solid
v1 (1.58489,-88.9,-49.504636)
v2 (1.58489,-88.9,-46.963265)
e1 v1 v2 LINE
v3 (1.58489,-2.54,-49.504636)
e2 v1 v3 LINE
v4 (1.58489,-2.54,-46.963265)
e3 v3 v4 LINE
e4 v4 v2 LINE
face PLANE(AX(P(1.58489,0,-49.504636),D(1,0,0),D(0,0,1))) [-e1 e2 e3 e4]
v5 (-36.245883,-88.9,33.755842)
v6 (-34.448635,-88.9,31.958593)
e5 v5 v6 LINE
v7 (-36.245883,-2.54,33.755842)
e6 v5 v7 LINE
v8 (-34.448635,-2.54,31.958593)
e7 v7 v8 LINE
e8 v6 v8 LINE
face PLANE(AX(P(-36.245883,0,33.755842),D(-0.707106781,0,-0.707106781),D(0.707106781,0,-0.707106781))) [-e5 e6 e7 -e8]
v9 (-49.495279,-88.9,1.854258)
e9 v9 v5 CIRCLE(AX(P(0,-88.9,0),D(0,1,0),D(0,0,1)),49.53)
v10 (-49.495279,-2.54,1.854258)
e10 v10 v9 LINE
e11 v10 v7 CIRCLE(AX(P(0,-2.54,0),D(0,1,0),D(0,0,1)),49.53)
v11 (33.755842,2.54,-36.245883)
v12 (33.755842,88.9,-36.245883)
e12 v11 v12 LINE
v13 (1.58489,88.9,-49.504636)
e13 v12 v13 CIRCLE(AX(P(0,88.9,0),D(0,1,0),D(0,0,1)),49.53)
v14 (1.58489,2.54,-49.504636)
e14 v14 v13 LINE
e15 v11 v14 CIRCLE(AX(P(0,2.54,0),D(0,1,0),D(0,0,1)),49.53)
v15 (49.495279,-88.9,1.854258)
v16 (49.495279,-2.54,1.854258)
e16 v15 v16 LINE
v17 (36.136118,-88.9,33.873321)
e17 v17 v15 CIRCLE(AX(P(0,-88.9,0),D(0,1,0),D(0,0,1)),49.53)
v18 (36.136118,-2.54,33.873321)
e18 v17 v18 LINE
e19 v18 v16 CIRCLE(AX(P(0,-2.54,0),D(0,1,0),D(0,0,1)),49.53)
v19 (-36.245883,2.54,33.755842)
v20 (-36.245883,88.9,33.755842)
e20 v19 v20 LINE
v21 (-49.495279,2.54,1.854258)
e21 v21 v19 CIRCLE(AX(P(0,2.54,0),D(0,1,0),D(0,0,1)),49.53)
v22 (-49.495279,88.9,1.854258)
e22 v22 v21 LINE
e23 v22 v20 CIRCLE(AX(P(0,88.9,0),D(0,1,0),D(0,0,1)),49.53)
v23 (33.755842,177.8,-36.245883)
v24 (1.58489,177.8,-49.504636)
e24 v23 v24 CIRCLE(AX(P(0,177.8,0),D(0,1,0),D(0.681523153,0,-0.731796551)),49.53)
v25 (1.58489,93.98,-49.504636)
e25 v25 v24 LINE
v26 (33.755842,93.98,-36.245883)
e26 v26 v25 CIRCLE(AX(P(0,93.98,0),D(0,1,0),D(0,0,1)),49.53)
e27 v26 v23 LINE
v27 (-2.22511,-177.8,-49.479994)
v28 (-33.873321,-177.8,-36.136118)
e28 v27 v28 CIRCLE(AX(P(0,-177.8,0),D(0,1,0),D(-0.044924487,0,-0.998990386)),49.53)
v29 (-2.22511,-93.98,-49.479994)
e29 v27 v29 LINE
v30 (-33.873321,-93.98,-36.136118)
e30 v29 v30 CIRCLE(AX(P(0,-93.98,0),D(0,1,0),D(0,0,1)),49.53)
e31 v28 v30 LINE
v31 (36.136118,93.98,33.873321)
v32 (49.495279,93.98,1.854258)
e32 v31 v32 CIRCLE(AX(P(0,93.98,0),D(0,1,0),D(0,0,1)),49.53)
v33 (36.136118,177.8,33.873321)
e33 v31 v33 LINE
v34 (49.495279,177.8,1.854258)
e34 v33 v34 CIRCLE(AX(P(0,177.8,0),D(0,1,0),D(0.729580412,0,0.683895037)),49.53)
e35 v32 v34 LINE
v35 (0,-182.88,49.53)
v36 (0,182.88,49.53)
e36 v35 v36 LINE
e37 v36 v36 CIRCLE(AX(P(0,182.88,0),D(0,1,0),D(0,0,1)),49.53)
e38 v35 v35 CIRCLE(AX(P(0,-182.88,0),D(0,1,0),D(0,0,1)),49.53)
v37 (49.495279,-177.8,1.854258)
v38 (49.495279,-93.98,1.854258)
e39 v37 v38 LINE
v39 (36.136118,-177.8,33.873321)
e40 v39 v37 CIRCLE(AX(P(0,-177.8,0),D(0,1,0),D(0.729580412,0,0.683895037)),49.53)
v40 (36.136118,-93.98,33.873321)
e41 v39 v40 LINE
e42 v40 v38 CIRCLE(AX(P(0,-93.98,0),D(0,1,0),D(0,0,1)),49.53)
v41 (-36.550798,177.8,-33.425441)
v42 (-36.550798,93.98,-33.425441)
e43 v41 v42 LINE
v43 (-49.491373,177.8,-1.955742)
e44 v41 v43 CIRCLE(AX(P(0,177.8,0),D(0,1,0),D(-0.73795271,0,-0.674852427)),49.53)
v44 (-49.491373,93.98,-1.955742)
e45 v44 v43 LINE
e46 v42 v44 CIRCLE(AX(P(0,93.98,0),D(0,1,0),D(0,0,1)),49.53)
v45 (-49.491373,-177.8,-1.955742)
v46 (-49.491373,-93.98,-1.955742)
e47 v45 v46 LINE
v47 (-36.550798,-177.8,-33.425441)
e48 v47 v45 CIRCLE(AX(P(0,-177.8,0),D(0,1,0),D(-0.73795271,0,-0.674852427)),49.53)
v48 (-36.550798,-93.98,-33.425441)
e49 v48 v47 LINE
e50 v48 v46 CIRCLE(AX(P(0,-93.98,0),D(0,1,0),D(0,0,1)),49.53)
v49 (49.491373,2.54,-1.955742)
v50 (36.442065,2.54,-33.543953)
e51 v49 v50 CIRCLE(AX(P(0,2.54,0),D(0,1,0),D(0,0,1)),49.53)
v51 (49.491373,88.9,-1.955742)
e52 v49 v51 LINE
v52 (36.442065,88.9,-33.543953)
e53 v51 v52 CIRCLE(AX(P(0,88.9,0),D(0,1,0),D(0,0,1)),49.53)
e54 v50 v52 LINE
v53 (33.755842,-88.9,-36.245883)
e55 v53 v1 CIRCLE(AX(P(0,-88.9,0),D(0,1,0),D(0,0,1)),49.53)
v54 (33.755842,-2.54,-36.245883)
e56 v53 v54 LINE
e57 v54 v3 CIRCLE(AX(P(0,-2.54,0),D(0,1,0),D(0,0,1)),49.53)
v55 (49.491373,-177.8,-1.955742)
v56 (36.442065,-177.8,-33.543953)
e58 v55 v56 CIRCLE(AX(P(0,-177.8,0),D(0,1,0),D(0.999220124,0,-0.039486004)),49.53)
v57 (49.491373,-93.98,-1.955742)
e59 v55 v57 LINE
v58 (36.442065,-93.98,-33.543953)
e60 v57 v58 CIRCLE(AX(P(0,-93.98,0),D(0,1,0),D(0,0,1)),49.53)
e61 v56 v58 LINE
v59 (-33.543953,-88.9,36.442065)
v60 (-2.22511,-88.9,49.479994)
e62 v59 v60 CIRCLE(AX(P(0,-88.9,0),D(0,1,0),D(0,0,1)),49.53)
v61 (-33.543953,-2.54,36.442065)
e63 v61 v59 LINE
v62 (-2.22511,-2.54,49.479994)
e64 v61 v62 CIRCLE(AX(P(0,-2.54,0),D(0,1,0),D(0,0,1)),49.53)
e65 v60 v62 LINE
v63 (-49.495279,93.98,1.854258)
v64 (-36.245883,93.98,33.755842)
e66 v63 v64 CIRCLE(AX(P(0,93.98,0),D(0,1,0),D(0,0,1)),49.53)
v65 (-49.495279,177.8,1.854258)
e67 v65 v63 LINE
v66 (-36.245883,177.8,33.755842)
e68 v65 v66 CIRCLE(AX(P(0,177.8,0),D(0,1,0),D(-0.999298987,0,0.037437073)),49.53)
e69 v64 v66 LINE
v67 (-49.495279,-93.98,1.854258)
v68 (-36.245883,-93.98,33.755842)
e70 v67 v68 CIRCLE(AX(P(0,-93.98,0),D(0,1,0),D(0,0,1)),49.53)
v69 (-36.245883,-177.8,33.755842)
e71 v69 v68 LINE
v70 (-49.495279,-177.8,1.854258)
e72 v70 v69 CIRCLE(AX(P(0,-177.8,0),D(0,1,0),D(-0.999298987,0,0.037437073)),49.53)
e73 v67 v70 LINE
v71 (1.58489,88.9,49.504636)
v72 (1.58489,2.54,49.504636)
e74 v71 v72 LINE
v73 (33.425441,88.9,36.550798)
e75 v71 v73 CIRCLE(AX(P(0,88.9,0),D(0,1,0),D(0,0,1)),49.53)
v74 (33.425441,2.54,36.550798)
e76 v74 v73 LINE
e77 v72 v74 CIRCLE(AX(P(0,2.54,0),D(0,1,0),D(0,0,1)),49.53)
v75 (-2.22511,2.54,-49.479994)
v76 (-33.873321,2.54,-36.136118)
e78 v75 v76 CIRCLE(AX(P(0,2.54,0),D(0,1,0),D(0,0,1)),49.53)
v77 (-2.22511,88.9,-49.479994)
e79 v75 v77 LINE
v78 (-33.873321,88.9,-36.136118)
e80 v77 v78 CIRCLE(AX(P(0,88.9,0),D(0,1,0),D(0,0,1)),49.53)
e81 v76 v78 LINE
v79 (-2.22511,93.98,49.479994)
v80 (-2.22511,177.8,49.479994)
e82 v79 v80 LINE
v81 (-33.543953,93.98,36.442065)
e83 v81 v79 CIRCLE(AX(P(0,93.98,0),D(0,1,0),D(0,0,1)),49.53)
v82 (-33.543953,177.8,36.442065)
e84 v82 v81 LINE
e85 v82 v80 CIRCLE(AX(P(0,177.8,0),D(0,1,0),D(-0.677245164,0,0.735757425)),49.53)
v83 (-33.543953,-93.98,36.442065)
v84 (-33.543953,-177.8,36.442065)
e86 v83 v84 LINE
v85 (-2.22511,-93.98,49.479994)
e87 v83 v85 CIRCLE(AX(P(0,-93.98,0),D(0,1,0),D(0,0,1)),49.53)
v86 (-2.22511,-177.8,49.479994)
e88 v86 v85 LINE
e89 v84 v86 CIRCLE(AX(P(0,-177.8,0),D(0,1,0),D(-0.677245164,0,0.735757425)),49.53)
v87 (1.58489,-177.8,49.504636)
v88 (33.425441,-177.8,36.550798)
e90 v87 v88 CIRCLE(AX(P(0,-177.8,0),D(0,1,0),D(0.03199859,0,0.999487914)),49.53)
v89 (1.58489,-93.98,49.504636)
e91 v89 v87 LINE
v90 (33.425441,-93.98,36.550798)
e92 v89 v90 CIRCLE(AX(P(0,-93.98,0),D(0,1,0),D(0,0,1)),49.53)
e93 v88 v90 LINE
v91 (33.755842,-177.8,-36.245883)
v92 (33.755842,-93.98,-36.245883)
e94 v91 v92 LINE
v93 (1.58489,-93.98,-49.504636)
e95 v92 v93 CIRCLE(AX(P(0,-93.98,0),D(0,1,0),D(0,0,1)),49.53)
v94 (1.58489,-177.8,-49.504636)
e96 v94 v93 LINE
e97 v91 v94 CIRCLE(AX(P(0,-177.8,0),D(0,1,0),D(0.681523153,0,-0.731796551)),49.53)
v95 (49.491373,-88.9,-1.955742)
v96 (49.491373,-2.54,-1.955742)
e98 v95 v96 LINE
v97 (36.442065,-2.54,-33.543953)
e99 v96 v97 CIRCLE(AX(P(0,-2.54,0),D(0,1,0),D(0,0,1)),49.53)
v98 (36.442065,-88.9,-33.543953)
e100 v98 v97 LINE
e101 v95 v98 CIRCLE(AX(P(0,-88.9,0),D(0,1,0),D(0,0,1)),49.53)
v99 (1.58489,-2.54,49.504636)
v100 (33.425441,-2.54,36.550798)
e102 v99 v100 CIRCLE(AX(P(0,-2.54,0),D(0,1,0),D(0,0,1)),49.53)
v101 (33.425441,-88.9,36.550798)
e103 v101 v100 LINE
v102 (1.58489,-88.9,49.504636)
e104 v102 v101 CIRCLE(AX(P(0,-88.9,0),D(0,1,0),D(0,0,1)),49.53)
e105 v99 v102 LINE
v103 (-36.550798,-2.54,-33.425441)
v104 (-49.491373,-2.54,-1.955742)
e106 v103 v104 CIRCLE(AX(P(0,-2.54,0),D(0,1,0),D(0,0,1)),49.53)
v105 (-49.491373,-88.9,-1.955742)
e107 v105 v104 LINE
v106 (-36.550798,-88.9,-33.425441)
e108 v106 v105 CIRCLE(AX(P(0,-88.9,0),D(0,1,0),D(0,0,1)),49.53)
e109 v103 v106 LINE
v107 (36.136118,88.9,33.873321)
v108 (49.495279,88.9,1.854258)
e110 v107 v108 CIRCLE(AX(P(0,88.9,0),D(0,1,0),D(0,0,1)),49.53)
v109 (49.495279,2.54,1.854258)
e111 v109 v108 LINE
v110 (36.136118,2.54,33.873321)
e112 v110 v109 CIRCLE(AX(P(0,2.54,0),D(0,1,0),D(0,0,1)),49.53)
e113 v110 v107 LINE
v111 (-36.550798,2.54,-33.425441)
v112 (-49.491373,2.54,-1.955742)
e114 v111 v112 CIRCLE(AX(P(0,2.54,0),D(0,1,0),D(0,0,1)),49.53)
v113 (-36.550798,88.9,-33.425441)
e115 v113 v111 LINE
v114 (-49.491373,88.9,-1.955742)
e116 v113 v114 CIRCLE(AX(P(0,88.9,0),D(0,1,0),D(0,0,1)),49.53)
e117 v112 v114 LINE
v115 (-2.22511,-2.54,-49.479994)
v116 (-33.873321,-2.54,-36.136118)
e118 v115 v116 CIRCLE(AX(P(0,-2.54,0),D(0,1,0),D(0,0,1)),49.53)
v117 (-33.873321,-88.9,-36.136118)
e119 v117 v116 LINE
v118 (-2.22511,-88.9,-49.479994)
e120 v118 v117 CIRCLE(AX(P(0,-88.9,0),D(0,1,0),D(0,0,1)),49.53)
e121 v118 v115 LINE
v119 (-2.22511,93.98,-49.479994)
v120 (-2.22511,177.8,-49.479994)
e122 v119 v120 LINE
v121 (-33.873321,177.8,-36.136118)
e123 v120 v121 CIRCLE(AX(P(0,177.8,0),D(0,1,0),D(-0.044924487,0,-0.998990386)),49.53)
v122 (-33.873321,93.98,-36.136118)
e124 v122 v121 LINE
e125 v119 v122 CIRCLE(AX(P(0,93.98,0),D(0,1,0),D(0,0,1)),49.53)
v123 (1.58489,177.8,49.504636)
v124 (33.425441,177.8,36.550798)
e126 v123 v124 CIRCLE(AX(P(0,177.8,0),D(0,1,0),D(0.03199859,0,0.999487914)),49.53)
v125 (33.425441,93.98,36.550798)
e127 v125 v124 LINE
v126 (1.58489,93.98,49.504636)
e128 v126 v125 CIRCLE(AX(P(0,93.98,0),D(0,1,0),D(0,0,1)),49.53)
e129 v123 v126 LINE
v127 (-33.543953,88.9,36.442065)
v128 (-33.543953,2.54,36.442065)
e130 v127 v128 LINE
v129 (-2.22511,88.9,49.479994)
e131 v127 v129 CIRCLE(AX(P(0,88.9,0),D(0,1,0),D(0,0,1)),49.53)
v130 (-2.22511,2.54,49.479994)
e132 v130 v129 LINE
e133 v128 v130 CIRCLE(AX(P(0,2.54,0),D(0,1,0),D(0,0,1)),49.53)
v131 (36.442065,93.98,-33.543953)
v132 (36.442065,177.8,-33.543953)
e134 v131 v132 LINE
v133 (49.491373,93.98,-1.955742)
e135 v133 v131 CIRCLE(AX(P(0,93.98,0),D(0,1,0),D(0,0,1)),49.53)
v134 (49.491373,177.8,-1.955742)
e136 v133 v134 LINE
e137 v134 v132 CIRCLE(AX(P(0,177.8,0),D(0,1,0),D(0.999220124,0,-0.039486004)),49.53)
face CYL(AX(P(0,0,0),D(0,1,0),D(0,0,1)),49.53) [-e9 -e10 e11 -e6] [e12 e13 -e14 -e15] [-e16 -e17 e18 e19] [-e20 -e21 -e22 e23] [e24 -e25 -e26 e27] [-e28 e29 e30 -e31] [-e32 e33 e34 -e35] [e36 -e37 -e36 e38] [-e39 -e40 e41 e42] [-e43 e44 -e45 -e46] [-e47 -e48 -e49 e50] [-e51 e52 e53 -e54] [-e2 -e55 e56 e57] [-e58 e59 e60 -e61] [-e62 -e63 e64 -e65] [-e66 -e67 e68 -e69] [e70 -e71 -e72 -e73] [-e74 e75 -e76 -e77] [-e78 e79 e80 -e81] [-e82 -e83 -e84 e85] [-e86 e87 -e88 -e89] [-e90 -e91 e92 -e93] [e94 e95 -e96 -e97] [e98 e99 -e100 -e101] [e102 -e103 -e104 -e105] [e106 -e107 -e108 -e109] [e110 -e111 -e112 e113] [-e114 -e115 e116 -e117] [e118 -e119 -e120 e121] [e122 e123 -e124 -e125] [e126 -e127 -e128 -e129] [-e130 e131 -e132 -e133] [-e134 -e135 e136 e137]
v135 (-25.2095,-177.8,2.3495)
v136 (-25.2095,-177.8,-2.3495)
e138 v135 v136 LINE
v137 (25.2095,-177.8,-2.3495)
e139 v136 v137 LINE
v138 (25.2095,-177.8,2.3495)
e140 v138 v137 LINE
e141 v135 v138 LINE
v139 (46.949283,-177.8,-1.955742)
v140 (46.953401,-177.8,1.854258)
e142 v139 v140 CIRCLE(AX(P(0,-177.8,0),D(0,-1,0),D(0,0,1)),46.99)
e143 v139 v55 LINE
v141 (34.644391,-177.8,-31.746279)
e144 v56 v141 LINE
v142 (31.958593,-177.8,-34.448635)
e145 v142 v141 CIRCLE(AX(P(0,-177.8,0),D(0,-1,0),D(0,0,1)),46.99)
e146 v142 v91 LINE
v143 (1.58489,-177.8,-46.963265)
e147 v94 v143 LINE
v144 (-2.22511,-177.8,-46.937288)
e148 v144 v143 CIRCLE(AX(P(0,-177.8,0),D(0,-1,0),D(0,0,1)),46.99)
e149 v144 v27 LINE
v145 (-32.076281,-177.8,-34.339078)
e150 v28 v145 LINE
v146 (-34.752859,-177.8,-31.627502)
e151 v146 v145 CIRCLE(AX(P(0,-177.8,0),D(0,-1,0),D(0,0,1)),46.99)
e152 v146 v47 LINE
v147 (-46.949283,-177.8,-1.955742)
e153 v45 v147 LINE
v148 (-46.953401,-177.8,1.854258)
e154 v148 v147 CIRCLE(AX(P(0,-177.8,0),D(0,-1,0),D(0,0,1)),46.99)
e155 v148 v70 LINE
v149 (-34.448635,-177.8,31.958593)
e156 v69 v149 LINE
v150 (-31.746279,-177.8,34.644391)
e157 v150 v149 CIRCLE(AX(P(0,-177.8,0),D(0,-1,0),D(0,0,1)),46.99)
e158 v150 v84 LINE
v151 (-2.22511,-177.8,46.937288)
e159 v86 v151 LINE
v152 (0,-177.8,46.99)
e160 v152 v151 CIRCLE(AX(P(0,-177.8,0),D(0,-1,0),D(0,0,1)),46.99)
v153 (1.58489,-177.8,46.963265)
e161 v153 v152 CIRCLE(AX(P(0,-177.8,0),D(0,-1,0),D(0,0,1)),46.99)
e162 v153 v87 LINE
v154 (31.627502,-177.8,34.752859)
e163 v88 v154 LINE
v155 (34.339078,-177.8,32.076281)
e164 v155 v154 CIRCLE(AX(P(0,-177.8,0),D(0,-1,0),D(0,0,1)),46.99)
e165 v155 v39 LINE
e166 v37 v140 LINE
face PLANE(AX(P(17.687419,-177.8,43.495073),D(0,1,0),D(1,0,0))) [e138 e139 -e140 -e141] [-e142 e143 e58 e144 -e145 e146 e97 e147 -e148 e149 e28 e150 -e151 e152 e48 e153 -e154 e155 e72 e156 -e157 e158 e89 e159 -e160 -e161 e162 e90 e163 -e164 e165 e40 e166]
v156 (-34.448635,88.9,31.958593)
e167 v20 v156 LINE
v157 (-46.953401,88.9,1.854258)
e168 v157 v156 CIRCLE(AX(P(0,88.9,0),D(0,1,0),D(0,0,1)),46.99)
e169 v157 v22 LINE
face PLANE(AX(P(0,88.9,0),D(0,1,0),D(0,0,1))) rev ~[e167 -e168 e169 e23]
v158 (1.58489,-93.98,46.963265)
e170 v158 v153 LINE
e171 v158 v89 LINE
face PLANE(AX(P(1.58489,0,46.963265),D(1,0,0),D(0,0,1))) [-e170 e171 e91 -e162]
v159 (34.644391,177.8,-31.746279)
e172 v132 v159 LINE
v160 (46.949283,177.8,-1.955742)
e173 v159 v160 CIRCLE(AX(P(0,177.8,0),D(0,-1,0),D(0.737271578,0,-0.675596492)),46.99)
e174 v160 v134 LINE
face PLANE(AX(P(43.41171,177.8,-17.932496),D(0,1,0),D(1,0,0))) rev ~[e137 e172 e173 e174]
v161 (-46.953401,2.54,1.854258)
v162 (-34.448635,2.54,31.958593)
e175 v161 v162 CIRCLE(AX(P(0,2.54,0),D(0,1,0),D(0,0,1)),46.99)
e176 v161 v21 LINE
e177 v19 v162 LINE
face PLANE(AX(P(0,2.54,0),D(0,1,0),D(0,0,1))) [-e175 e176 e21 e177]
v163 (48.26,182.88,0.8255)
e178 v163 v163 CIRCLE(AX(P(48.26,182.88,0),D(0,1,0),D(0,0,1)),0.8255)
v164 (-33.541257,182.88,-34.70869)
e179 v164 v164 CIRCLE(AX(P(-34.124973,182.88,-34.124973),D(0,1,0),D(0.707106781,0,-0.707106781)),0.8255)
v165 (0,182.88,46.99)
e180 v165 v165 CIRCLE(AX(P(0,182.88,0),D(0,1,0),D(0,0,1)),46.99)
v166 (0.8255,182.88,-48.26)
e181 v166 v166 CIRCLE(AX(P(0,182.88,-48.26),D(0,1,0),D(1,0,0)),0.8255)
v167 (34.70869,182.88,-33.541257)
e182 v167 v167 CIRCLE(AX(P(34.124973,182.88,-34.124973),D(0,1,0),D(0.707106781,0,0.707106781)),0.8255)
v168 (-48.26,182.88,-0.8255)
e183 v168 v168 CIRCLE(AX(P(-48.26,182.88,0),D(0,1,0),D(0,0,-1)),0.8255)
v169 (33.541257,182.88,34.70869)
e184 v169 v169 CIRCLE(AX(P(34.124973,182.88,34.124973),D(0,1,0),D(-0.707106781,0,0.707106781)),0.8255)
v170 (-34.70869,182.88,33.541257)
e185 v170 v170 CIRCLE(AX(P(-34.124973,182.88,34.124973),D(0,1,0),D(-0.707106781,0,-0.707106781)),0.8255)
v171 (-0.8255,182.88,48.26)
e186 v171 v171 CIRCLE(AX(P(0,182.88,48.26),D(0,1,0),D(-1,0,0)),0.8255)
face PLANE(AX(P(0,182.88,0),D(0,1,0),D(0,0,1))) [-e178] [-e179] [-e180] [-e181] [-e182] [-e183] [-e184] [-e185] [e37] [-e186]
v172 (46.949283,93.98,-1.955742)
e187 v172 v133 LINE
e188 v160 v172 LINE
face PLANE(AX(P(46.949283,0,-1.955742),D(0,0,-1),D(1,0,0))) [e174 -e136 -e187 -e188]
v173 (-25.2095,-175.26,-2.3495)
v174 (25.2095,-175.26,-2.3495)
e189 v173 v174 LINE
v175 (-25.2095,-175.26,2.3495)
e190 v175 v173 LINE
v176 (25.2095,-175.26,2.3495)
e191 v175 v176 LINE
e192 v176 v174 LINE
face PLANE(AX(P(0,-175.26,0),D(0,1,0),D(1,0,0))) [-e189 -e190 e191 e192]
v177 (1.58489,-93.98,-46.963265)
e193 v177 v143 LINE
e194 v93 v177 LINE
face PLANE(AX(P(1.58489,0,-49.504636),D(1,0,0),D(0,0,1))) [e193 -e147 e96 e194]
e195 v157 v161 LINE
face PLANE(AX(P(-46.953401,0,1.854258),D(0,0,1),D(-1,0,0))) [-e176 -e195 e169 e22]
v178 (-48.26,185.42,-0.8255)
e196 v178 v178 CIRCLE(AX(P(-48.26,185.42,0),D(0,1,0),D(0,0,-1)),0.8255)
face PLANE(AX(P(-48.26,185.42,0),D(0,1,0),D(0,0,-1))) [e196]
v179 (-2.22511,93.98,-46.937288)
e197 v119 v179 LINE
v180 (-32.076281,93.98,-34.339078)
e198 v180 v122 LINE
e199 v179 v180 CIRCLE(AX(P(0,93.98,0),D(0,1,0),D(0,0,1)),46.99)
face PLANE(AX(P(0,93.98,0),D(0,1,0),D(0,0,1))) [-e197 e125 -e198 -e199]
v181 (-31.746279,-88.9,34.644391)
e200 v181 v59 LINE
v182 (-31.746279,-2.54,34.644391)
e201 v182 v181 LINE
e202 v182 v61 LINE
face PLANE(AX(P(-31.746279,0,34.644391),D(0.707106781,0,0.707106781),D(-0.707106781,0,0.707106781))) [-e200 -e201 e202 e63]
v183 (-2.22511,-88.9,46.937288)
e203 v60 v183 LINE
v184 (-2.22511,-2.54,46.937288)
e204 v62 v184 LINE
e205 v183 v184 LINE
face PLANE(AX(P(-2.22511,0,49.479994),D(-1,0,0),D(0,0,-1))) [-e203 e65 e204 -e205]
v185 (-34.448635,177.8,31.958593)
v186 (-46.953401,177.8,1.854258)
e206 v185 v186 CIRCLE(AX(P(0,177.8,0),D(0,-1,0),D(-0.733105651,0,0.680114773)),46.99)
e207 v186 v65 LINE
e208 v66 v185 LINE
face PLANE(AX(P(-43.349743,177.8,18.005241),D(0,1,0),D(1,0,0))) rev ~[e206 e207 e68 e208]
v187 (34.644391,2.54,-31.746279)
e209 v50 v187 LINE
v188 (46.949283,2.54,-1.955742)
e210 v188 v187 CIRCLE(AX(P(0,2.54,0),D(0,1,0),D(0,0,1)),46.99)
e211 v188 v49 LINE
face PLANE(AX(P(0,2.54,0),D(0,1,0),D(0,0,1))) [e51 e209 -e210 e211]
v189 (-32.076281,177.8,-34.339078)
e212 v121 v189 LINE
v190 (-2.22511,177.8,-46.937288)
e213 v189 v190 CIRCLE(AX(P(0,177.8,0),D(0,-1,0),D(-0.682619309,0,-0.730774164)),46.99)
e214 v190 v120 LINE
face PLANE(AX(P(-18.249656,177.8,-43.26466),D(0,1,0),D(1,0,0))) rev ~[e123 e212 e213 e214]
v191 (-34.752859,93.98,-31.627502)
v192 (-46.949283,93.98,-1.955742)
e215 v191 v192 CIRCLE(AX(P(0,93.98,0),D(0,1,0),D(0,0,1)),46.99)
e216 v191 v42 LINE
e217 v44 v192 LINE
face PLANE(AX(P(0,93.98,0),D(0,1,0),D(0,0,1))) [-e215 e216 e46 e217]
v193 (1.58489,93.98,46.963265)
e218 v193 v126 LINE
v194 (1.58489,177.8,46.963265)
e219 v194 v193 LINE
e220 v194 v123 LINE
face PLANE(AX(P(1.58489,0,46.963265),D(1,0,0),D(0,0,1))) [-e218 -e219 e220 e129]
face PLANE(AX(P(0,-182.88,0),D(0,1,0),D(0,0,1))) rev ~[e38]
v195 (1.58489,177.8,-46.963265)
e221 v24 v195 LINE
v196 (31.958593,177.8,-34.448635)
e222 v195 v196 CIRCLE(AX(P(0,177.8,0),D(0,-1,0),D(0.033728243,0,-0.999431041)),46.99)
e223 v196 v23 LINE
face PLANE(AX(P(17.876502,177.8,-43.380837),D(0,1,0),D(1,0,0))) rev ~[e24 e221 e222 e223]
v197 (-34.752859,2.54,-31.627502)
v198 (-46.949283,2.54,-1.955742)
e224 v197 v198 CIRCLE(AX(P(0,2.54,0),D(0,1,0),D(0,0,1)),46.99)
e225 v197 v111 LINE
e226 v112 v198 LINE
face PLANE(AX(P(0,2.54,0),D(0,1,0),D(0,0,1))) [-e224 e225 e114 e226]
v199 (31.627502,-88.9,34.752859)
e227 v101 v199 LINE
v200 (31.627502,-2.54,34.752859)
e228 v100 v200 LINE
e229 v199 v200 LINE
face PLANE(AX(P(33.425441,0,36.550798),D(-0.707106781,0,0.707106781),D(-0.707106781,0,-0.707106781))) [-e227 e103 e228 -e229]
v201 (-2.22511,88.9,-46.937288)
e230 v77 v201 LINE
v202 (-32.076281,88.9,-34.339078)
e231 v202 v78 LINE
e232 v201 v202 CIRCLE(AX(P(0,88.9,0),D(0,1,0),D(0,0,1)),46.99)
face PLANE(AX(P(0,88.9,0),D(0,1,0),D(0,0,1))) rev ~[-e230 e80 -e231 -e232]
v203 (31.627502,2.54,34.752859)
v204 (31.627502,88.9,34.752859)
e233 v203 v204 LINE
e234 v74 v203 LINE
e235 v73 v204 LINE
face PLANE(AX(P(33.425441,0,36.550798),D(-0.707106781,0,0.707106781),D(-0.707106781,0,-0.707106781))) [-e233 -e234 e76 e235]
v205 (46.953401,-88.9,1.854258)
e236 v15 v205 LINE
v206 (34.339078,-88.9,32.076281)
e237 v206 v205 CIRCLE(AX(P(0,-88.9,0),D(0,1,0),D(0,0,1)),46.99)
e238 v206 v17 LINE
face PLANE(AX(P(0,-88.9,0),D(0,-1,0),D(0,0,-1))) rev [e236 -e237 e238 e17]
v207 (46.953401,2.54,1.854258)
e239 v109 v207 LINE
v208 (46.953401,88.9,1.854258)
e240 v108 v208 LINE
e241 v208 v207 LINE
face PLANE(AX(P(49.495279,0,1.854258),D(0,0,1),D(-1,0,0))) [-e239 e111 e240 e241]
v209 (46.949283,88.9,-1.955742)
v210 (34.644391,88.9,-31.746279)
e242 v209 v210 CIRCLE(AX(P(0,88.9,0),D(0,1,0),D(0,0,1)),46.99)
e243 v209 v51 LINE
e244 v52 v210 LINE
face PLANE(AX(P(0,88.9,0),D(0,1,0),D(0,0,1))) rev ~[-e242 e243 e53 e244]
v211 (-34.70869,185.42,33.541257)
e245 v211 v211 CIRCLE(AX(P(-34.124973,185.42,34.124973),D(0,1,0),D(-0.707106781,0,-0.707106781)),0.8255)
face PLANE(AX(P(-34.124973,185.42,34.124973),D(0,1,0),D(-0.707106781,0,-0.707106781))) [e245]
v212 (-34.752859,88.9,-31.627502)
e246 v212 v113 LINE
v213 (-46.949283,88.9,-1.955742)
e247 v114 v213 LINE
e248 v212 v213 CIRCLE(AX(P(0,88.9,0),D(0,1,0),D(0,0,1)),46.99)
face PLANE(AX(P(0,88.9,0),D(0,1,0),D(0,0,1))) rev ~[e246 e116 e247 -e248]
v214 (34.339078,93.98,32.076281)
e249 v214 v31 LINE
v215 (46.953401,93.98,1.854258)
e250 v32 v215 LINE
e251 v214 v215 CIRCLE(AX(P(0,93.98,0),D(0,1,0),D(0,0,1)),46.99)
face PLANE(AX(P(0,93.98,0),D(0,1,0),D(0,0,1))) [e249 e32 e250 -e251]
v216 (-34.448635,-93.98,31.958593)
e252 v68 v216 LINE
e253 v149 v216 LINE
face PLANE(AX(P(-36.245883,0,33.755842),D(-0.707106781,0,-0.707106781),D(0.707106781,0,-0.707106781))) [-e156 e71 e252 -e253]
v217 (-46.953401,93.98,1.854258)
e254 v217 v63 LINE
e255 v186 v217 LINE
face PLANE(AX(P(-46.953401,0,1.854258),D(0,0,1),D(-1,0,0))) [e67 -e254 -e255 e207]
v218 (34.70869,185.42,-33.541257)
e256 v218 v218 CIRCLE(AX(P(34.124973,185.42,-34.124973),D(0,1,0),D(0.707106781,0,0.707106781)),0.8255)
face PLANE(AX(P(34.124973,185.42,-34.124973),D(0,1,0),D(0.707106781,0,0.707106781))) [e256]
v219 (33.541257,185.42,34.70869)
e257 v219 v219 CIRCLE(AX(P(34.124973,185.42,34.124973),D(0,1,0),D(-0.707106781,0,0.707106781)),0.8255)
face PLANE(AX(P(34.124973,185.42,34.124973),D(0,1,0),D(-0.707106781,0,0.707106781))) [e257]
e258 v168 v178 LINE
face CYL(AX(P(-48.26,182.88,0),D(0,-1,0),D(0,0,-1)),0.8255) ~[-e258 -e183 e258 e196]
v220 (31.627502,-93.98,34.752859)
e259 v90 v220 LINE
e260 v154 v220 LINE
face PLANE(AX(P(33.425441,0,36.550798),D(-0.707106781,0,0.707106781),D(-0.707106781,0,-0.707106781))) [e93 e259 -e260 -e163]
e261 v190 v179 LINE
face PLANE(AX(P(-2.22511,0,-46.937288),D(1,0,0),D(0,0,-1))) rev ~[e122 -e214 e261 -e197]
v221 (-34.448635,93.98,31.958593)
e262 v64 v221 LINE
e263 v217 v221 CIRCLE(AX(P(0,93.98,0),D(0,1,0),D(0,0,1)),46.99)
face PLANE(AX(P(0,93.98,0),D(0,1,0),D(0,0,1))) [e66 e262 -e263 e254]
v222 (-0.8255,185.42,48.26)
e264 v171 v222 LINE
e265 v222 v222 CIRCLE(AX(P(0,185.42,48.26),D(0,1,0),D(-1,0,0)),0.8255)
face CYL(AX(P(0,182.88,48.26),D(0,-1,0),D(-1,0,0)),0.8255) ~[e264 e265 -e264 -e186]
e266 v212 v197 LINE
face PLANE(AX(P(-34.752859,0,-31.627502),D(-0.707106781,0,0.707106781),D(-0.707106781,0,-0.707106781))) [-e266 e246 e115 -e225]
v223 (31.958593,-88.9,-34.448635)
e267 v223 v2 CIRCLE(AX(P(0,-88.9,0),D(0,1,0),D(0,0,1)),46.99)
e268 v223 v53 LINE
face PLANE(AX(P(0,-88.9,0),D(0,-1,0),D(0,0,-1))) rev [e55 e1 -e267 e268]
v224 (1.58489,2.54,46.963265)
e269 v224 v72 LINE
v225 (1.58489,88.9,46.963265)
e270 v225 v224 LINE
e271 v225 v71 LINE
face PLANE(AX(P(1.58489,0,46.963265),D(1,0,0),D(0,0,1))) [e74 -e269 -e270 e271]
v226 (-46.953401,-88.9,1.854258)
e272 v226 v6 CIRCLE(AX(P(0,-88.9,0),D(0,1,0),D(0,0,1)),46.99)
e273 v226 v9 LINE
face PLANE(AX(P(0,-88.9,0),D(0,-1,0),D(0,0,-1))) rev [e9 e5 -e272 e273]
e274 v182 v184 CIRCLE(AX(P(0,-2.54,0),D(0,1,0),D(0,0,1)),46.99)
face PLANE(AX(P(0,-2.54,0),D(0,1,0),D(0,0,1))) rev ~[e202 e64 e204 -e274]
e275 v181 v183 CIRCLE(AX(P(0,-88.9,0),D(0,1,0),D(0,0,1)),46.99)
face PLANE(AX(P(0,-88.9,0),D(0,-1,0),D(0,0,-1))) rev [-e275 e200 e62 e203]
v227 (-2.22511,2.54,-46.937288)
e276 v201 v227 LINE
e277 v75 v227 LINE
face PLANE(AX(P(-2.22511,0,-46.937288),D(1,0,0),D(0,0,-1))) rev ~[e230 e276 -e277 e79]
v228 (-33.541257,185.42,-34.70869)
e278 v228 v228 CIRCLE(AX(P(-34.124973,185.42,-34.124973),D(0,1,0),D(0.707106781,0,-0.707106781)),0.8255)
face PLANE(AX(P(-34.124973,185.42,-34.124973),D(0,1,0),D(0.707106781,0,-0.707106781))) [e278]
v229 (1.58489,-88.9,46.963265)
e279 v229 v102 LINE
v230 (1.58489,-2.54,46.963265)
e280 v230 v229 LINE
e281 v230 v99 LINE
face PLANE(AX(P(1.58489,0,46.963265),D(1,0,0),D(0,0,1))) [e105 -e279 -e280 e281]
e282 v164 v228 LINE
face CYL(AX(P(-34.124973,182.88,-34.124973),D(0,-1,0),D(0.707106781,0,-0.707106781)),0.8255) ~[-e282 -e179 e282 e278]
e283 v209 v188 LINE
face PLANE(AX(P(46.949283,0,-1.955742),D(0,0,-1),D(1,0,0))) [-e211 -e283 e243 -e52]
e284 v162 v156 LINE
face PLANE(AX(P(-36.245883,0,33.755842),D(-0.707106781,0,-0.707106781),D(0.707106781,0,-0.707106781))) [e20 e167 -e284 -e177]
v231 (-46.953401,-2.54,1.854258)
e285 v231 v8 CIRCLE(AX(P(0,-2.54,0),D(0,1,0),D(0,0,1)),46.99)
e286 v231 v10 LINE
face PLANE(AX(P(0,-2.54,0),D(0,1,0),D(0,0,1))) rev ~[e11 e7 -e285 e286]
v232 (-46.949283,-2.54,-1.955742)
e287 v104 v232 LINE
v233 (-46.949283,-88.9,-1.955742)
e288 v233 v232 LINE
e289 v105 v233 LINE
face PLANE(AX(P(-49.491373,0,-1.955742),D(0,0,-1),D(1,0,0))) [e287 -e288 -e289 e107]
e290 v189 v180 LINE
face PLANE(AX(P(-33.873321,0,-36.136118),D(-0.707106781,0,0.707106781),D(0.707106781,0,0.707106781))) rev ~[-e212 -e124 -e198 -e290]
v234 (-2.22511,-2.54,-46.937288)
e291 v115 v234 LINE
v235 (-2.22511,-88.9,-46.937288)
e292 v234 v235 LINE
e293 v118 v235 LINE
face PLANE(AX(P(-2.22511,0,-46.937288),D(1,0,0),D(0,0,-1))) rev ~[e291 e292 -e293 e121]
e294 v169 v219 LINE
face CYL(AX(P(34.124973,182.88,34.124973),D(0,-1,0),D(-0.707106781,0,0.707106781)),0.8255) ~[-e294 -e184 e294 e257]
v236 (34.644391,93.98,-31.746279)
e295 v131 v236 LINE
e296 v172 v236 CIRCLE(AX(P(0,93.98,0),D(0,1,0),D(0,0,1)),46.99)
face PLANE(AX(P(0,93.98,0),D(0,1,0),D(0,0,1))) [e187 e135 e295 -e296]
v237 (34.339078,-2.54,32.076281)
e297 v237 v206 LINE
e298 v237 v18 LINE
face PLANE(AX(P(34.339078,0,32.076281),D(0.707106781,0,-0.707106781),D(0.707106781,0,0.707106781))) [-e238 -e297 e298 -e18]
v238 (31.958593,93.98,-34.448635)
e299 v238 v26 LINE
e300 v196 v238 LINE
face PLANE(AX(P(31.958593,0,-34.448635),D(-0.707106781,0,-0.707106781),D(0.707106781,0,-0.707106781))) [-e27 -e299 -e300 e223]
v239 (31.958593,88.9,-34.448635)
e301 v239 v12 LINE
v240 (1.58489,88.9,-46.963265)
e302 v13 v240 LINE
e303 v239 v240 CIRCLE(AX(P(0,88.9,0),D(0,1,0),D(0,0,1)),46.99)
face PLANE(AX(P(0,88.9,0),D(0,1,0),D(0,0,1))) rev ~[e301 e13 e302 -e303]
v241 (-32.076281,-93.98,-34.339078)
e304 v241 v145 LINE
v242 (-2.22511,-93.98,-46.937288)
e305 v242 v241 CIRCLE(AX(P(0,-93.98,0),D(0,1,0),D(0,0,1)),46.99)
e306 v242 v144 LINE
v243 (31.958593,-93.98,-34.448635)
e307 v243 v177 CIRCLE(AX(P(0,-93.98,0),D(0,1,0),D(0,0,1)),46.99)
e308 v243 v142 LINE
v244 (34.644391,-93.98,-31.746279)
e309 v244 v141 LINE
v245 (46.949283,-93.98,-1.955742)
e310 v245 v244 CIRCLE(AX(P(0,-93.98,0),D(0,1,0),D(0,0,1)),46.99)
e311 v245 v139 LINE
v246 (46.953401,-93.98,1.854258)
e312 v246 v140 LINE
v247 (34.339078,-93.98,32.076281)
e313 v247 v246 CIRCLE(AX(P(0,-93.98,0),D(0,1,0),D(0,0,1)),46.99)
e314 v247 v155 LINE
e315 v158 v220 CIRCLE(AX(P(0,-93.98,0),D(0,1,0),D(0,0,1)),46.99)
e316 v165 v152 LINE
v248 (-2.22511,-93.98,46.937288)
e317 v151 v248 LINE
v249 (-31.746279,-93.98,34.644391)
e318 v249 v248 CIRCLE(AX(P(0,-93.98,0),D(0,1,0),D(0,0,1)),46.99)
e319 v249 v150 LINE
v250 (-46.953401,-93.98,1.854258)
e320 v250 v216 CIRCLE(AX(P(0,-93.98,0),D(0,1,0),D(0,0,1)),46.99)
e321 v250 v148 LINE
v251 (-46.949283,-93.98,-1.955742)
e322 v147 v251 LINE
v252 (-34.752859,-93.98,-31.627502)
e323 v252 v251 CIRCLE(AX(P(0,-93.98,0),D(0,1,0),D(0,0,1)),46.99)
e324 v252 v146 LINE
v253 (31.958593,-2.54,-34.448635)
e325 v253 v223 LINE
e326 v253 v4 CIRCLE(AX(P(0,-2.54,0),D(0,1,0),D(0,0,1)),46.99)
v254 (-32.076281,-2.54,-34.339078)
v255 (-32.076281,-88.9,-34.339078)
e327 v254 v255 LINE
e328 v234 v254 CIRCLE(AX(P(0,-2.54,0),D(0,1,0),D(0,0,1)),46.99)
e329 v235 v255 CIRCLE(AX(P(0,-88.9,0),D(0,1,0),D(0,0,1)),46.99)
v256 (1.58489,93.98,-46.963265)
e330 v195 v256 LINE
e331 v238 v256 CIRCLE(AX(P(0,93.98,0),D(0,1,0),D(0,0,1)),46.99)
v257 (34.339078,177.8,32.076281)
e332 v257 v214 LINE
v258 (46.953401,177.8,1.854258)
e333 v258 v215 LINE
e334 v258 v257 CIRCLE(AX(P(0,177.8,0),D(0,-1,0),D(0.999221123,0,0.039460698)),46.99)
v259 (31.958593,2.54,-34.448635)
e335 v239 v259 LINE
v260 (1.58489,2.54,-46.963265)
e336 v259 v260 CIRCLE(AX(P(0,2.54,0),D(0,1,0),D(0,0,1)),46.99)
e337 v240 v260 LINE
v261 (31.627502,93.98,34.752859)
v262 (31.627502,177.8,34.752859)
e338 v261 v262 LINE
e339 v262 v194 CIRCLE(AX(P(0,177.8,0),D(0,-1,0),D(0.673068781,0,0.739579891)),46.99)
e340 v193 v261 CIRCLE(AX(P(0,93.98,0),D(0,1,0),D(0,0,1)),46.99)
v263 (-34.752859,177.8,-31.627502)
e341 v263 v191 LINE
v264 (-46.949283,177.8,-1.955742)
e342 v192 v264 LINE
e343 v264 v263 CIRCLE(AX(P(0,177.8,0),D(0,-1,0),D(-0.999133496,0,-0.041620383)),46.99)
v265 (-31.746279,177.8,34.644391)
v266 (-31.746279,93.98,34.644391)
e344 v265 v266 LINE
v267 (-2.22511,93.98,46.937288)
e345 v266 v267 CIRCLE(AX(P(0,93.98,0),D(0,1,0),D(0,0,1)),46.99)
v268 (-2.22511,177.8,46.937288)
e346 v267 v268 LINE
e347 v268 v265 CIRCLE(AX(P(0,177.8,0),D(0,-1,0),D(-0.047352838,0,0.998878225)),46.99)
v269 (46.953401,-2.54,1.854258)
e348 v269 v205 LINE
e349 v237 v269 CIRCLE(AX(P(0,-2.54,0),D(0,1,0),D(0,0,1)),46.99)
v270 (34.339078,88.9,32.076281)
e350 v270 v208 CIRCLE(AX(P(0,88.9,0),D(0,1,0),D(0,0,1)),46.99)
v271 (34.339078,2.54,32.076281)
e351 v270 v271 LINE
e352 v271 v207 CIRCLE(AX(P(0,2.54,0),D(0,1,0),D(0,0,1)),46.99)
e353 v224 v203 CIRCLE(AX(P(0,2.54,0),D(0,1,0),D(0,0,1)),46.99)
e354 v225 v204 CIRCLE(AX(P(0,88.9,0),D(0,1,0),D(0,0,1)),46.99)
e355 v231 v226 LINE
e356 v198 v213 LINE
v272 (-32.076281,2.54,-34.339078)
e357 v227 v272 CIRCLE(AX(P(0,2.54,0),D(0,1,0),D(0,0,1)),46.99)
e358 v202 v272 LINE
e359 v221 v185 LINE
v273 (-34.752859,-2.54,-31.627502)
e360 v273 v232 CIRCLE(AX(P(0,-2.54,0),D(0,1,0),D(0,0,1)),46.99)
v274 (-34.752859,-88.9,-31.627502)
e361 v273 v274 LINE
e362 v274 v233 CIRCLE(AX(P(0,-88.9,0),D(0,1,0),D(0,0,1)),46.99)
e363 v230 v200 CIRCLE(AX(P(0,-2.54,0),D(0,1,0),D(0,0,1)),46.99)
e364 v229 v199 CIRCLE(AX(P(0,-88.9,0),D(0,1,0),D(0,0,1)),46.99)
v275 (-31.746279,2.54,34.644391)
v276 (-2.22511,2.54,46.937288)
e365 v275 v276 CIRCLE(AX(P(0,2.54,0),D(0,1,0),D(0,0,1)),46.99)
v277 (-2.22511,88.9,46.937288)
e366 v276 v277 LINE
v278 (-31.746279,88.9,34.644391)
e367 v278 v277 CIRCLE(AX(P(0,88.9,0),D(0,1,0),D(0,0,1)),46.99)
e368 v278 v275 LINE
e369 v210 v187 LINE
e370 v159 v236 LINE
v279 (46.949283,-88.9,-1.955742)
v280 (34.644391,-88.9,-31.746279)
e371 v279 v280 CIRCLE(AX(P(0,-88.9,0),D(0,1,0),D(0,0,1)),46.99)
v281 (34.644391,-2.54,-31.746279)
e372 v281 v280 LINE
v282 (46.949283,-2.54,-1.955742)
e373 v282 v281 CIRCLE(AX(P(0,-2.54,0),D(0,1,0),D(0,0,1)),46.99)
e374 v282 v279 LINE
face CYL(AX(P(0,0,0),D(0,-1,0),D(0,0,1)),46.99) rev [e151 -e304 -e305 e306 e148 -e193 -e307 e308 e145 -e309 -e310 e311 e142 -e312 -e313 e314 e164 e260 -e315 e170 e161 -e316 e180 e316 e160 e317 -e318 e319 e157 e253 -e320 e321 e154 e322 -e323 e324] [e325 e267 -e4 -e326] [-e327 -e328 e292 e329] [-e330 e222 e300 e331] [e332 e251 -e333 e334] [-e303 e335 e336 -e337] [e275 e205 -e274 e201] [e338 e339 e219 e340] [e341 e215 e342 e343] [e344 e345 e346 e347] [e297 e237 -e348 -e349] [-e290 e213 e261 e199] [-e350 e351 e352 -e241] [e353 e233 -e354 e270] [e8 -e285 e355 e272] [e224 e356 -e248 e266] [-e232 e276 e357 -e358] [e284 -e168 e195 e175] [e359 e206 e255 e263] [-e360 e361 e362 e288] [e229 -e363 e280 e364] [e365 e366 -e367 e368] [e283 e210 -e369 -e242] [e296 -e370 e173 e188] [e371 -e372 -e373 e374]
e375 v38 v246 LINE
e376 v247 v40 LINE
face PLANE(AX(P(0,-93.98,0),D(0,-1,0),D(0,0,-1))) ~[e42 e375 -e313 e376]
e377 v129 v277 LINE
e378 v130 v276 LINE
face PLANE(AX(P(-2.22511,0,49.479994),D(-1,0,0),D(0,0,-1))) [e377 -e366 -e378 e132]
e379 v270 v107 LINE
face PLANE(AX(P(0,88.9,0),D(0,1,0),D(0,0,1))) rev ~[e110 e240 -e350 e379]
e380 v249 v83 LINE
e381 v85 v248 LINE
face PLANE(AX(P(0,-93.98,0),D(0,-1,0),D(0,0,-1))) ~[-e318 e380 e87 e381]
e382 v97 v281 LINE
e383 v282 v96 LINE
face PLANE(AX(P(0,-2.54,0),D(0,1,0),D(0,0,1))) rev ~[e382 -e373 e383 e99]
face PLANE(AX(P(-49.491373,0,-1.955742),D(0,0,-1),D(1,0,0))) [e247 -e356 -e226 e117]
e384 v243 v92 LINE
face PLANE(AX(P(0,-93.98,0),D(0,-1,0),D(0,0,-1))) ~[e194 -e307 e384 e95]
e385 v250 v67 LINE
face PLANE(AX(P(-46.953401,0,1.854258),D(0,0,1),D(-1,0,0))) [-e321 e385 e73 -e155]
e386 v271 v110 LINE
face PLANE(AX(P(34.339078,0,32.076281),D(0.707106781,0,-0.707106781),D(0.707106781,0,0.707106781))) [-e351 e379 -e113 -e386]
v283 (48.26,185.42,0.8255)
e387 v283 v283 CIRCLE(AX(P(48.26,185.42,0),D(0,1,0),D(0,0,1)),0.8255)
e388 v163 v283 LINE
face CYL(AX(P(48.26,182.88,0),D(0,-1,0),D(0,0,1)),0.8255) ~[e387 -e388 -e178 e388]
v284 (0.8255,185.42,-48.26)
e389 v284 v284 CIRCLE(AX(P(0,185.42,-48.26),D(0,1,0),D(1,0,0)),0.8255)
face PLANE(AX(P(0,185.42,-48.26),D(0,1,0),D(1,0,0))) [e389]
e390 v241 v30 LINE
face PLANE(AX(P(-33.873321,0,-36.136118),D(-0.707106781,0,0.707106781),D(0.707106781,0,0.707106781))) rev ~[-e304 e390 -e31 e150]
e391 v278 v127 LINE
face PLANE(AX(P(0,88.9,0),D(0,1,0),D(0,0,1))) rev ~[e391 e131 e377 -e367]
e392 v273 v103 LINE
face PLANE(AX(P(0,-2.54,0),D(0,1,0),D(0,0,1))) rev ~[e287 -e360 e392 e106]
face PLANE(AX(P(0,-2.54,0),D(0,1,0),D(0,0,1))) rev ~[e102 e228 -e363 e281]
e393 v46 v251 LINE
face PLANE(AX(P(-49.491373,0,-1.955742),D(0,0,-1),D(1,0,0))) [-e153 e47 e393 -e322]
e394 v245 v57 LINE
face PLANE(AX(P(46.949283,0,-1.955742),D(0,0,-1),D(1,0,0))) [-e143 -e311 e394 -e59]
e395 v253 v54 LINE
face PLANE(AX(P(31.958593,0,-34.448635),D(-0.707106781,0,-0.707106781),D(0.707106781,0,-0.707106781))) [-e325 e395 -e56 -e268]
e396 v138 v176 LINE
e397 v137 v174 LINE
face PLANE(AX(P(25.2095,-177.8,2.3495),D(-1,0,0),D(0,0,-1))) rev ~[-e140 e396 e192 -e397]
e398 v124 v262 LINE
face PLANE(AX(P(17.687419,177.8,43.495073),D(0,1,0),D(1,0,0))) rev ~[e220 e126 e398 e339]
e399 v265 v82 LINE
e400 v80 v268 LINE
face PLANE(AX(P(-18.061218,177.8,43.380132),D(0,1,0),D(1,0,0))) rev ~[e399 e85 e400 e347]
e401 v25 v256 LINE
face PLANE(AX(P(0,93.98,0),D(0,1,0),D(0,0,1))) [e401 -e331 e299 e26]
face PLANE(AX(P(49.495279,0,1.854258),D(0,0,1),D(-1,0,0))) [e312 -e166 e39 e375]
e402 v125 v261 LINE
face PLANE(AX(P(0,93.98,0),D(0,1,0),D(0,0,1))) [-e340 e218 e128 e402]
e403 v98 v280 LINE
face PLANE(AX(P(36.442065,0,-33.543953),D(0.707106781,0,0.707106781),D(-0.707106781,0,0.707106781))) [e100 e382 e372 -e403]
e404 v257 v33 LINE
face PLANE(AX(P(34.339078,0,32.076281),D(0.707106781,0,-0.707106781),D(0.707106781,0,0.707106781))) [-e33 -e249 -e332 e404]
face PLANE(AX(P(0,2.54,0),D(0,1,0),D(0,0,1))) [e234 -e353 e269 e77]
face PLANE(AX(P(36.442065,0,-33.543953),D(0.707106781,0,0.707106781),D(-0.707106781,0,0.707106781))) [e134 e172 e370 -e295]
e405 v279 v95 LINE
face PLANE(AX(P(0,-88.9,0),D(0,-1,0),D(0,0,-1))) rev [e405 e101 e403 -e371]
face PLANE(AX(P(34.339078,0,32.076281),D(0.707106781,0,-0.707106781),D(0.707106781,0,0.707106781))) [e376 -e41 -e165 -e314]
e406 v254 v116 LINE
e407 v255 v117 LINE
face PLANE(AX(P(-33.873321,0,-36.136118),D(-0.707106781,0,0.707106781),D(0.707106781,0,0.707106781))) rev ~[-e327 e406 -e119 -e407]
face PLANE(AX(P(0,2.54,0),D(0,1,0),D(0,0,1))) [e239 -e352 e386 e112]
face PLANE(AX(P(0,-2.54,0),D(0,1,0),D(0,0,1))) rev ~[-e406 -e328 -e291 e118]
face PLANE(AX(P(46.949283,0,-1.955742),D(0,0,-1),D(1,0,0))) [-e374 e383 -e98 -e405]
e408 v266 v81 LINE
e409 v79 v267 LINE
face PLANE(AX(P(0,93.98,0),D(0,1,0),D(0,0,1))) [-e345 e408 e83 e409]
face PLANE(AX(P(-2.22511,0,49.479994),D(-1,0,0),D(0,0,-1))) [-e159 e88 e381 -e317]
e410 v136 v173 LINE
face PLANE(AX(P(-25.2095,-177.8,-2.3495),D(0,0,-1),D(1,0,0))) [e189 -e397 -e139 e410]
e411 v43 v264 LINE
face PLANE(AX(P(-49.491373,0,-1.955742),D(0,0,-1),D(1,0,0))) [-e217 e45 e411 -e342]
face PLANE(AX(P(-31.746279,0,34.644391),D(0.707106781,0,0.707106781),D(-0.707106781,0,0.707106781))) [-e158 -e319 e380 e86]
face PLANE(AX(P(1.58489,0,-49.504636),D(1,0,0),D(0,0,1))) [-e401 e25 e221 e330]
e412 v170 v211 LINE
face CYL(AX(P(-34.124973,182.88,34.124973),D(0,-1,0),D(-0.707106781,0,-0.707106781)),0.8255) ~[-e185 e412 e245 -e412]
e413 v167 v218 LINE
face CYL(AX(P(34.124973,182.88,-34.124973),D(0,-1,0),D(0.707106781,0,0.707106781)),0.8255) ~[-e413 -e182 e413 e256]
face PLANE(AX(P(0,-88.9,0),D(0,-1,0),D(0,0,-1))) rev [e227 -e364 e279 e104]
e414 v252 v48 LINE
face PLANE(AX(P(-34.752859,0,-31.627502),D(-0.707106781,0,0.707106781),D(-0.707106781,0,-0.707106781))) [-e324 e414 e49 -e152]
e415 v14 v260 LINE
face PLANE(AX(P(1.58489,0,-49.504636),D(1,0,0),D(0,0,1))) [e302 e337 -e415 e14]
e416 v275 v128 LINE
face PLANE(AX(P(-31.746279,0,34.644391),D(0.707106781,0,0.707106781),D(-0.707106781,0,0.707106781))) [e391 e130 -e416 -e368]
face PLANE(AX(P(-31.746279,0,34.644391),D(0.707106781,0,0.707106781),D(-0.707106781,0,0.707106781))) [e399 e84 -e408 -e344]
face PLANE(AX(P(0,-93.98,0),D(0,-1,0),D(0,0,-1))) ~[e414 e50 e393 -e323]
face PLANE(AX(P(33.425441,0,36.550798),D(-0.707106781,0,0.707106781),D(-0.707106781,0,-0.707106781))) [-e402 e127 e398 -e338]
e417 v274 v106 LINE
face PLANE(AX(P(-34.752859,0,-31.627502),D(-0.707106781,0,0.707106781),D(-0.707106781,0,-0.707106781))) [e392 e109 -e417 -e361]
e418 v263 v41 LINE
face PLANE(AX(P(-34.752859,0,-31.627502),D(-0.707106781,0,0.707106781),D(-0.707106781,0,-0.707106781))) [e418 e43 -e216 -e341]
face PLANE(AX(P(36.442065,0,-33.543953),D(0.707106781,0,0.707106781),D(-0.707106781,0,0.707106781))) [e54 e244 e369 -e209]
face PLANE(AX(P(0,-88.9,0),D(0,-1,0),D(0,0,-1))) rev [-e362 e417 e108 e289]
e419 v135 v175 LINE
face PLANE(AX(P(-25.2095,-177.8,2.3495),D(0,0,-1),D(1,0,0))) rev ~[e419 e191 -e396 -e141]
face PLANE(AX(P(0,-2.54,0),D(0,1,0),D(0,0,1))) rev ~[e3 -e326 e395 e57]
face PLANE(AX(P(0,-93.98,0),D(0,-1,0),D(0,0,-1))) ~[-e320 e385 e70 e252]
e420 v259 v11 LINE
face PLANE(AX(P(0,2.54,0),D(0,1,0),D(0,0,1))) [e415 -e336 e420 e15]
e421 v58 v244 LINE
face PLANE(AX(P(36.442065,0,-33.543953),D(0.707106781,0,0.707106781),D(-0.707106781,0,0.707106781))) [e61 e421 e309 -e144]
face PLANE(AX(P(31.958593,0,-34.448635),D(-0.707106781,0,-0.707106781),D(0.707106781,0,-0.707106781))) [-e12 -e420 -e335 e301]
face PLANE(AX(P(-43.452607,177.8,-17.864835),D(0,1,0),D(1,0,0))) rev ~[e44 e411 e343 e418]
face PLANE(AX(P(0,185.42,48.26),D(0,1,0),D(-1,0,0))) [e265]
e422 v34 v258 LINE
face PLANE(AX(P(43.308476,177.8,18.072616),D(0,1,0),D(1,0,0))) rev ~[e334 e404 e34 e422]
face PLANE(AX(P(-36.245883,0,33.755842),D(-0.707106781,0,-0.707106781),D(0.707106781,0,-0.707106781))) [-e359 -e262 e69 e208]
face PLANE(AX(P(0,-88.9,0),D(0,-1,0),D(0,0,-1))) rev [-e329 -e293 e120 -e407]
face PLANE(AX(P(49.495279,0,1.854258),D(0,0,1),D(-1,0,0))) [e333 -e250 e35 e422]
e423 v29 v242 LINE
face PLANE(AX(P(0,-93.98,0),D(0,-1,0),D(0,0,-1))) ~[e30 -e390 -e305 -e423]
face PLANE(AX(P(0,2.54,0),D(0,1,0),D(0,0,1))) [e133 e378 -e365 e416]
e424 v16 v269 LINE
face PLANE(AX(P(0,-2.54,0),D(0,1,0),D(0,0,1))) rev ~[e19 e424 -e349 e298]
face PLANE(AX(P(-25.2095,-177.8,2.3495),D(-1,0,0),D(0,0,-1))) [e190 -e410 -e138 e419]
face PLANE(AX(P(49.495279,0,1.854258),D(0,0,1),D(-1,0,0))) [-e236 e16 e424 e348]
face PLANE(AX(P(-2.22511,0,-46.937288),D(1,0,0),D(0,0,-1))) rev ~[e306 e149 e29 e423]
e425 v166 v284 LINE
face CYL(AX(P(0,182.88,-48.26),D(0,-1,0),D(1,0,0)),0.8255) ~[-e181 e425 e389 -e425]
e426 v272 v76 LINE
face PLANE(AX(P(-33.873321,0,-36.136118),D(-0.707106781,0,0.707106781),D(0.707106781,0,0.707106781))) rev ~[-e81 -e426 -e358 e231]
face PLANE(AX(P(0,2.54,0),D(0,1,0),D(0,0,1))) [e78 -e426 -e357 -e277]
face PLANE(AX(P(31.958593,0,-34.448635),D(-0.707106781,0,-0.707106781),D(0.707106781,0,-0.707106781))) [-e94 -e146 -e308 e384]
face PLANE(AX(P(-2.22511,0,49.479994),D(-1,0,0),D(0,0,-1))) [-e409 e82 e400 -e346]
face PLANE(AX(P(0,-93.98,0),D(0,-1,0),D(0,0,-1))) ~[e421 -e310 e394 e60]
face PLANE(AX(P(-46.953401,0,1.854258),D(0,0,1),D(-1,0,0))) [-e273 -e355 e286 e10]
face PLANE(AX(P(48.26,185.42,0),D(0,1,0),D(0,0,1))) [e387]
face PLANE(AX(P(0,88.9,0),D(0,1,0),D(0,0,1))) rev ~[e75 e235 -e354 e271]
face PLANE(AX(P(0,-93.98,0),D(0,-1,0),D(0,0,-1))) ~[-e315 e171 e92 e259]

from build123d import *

# Parameters (mm, degrees)
SKETCH1_R           = 49.53
SKETCH1_R_2         = 46.99
BOSS_EXTRUDE1_DEPTH = 182.88
CUT_EXTRUDE1_DEPTH  = 177.8
SKETCH3_R           = 49.53
SKETCH3_R_2         = 46.99
BOSS_EXTRUDE2_DEPTH = 2.54
SKETCH4_R           = 49.53
SKETCH4_R_2         = 46.99
BOSS_EXTRUDE3_DEPTH = 2.54
BOSS_EXTRUDE4_START = -5.08
SKETCH5_R           = 49.53
BOSS_EXTRUDE4_DEPTH = 5.08
SKETCH6_W           = 50.419
SKETCH6_H           = 4.699
BOSS_EXTRUDE5_DEPTH = 2.54
SKETCH7_R           = 0.8255
BOSS_EXTRUDE6_DEPTH = 2.54
CIRPATTERN2_COUNT   = 8


with BuildPart() as part:
    # Sketch1 → Boss-Extrude1 (new, symmetric)
    with BuildSketch(Plane(origin=(0, 0, 0), x_dir=(1, 0, 0), z_dir=(0, 1, 0))):
        with Locations(Location((0, 0, 0), (0, 0, 270))):
            Circle(SKETCH1_R)
        with Locations(Location((0, 0, 0), (0, 0, 270))):
            Circle(SKETCH1_R_2, mode=Mode.SUBTRACT)
    extrude(amount=BOSS_EXTRUDE1_DEPTH, both=True)

    # Sketch2 → Cut-Extrude1 (cut, symmetric)
    with BuildSketch(Plane(origin=(0, 0, 0), x_dir=(1, 0, 0), z_dir=(0, 1, 0))):
        with BuildLine():
            Line((34.339077963, -32.07628134), (36.13611782, -33.873321197))
            ThreePointArc((36.13611782, -33.873321197), (45.710930003, -19.071753413), (49.49527883, -1.854258207))
            Line((49.49527883, -1.854258207), (46.953400585, -1.854258207))
            ThreePointArc((46.953400585, -1.854258207), (43.364264524, -18.099742051), (34.339077963, -32.07628134))
        make_face()
        with BuildLine():
            ThreePointArc((1.584890151, -49.504636381), (18.664975227, -45.878530924), (33.425440685, -36.550797734))
            Line((33.425440685, -36.550797734), (31.627502039, -34.752859088))
            ThreePointArc((31.627502039, -34.752859088), (17.692915235, -43.531837205), (1.584890151, -46.963264614))
            Line((1.584890151, -46.963264614), (1.584890151, -49.504636381))
        make_face()
        with BuildLine():
            ThreePointArc((-33.543952964, -36.442065248), (-19.03558139, -45.726005086), (-2.225109849, -49.479993797))
            Line((-2.225109849, -49.479993797), (-2.225109849, -46.937287801))
            ThreePointArc((-2.225109849, -46.937287801), (-18.063572268, -43.379343666), (-31.746279167, -34.644391451))
            Line((-31.746279167, -34.644391451), (-33.543952964, -36.442065248))
        make_face()
        with BuildLine():
            Line((46.949282998, 1.955741793), (49.491372723, 1.955741793))
            ThreePointArc((49.491372723, 1.955741793), (45.777644234, 18.911059948), (36.442065248, 33.543952964))
            Line((36.442065248, 33.543952964), (34.644391451, 31.746279167))
            ThreePointArc((34.644391451, 31.746279167), (43.430990742, 17.93903964), (46.949282998, 1.955741793))
        make_face()
        with BuildLine():
            ThreePointArc((-49.49527883, -1.854258207), (-45.741824116, -18.997537381), (-36.245883162, -33.755841773))
            Line((-36.245883162, -33.755841773), (-34.448634556, -31.958593167))
            ThreePointArc((-34.448634556, -31.958593167), (-43.39516767, -18.025524205), (-46.953400585, -1.854258207))
            Line((-46.953400585, -1.854258207), (-49.49527883, -1.854258207))
        make_face()
        with BuildLine():
            Line((31.958593167, 34.448634556), (33.755841773, 36.245883162))
            ThreePointArc((33.755841773, 36.245883162), (18.873008967, 45.79334485), (1.584890151, 49.504636381))
            Line((1.584890151, 49.504636381), (1.584890151, 46.963264614))
            ThreePointArc((1.584890151, 46.963264614), (17.900986276, 43.446689061), (31.958593167, 34.448634556))
        make_face()
        with BuildLine():
            ThreePointArc((-36.550797734, 33.425440685), (-45.80828813, 18.836709868), (-49.491372723, 1.955741793))
            Line((-49.491372723, 1.955741793), (-46.949282998, 1.955741793))
            ThreePointArc((-46.949282998, 1.955741793), (-43.461630715, 17.864678995), (-34.752859088, 31.627502039))
            Line((-34.752859088, 31.627502039), (-36.550797734, 33.425440685))
        make_face()
        with BuildLine():
            Line((-2.225109849, 46.937287801), (-2.225109849, 49.479993797))
            ThreePointArc((-2.225109849, 49.479993797), (-19.242893169, 45.63914945), (-33.873321197, 36.13611782))
            Line((-33.873321197, 36.13611782), (-32.07628134, 34.339077963))
            ThreePointArc((-32.07628134, 34.339077963), (-18.270880717, 43.292436035), (-2.225109849, 46.937287801))
        make_face()
    extrude(amount=CUT_EXTRUDE1_DEPTH, both=True, mode=Mode.SUBTRACT)

    # Sketch3 → Boss-Extrude2 (add, symmetric)
    with BuildSketch(Plane(origin=(0, 91.44, 0), x_dir=(1, 0, 0), z_dir=(0, 1, 0))):
        with Locations(Location((0, 0, 0), (0, 0, 270))):
            Circle(SKETCH3_R)
        with Locations(Location((0, 0, 0), (0, 0, 270))):
            Circle(SKETCH3_R_2, mode=Mode.SUBTRACT)
    boss_extrude2 = extrude(amount=BOSS_EXTRUDE2_DEPTH, both=True)

    # Mirror1: Boss-Extrude2 across plane
    add(boss_extrude2.mirror(Plane.ZX))

    # Sketch4 → Boss-Extrude3 (add, symmetric)
    with BuildSketch(Plane(origin=(0, 0, 0), x_dir=(1, 0, 0), z_dir=(0, 1, 0))):
        with Locations(Location((0, 0, 0), (0, 0, 270))):
            Circle(SKETCH4_R)
        with Locations(Location((0, 0, 0), (0, 0, 270))):
            Circle(SKETCH4_R_2, mode=Mode.SUBTRACT)
    extrude(amount=BOSS_EXTRUDE3_DEPTH, both=True)

    # Sketch5 → Boss-Extrude4 (add)
    with BuildSketch(Plane.XZ.offset(182.88).offset(BOSS_EXTRUDE4_START)):
        with Locations(Location((0, 0, 0), (0, 0, 90))):
            Circle(SKETCH5_R)
    extrude(amount=BOSS_EXTRUDE4_DEPTH)

    # Sketch6 → Boss-Extrude5 (add)
    with BuildSketch(Plane(origin=(0, -177.8, 0), x_dir=(1, 0, 0), z_dir=(0, 1, 0))):
        Rectangle(SKETCH6_W, SKETCH6_H)
    extrude(amount=BOSS_EXTRUDE5_DEPTH)

    # Sketch7 → Boss-Extrude6 (add)
    with BuildSketch(Plane(origin=(0, 182.88, 0), x_dir=(1, 0, 0), z_dir=(0, 1, 0))):
        with Locations(Location((48.26, 0, 0), (0, 0, 270))):
            Circle(SKETCH7_R)
    boss_extrude6 = extrude(amount=BOSS_EXTRUDE6_DEPTH)

    # CirPattern2: Boss-Extrude6 ×8 about axis
    cirpattern2_axis = Axis((0, 0, 0), (0, 1, 0))
    for i in range(1, CIRPATTERN2_COUNT):
        add(boss_extrude6.rotate(cirpattern2_axis, i * 360 / CIRPATTERN2_COUNT))


solid = part.part
